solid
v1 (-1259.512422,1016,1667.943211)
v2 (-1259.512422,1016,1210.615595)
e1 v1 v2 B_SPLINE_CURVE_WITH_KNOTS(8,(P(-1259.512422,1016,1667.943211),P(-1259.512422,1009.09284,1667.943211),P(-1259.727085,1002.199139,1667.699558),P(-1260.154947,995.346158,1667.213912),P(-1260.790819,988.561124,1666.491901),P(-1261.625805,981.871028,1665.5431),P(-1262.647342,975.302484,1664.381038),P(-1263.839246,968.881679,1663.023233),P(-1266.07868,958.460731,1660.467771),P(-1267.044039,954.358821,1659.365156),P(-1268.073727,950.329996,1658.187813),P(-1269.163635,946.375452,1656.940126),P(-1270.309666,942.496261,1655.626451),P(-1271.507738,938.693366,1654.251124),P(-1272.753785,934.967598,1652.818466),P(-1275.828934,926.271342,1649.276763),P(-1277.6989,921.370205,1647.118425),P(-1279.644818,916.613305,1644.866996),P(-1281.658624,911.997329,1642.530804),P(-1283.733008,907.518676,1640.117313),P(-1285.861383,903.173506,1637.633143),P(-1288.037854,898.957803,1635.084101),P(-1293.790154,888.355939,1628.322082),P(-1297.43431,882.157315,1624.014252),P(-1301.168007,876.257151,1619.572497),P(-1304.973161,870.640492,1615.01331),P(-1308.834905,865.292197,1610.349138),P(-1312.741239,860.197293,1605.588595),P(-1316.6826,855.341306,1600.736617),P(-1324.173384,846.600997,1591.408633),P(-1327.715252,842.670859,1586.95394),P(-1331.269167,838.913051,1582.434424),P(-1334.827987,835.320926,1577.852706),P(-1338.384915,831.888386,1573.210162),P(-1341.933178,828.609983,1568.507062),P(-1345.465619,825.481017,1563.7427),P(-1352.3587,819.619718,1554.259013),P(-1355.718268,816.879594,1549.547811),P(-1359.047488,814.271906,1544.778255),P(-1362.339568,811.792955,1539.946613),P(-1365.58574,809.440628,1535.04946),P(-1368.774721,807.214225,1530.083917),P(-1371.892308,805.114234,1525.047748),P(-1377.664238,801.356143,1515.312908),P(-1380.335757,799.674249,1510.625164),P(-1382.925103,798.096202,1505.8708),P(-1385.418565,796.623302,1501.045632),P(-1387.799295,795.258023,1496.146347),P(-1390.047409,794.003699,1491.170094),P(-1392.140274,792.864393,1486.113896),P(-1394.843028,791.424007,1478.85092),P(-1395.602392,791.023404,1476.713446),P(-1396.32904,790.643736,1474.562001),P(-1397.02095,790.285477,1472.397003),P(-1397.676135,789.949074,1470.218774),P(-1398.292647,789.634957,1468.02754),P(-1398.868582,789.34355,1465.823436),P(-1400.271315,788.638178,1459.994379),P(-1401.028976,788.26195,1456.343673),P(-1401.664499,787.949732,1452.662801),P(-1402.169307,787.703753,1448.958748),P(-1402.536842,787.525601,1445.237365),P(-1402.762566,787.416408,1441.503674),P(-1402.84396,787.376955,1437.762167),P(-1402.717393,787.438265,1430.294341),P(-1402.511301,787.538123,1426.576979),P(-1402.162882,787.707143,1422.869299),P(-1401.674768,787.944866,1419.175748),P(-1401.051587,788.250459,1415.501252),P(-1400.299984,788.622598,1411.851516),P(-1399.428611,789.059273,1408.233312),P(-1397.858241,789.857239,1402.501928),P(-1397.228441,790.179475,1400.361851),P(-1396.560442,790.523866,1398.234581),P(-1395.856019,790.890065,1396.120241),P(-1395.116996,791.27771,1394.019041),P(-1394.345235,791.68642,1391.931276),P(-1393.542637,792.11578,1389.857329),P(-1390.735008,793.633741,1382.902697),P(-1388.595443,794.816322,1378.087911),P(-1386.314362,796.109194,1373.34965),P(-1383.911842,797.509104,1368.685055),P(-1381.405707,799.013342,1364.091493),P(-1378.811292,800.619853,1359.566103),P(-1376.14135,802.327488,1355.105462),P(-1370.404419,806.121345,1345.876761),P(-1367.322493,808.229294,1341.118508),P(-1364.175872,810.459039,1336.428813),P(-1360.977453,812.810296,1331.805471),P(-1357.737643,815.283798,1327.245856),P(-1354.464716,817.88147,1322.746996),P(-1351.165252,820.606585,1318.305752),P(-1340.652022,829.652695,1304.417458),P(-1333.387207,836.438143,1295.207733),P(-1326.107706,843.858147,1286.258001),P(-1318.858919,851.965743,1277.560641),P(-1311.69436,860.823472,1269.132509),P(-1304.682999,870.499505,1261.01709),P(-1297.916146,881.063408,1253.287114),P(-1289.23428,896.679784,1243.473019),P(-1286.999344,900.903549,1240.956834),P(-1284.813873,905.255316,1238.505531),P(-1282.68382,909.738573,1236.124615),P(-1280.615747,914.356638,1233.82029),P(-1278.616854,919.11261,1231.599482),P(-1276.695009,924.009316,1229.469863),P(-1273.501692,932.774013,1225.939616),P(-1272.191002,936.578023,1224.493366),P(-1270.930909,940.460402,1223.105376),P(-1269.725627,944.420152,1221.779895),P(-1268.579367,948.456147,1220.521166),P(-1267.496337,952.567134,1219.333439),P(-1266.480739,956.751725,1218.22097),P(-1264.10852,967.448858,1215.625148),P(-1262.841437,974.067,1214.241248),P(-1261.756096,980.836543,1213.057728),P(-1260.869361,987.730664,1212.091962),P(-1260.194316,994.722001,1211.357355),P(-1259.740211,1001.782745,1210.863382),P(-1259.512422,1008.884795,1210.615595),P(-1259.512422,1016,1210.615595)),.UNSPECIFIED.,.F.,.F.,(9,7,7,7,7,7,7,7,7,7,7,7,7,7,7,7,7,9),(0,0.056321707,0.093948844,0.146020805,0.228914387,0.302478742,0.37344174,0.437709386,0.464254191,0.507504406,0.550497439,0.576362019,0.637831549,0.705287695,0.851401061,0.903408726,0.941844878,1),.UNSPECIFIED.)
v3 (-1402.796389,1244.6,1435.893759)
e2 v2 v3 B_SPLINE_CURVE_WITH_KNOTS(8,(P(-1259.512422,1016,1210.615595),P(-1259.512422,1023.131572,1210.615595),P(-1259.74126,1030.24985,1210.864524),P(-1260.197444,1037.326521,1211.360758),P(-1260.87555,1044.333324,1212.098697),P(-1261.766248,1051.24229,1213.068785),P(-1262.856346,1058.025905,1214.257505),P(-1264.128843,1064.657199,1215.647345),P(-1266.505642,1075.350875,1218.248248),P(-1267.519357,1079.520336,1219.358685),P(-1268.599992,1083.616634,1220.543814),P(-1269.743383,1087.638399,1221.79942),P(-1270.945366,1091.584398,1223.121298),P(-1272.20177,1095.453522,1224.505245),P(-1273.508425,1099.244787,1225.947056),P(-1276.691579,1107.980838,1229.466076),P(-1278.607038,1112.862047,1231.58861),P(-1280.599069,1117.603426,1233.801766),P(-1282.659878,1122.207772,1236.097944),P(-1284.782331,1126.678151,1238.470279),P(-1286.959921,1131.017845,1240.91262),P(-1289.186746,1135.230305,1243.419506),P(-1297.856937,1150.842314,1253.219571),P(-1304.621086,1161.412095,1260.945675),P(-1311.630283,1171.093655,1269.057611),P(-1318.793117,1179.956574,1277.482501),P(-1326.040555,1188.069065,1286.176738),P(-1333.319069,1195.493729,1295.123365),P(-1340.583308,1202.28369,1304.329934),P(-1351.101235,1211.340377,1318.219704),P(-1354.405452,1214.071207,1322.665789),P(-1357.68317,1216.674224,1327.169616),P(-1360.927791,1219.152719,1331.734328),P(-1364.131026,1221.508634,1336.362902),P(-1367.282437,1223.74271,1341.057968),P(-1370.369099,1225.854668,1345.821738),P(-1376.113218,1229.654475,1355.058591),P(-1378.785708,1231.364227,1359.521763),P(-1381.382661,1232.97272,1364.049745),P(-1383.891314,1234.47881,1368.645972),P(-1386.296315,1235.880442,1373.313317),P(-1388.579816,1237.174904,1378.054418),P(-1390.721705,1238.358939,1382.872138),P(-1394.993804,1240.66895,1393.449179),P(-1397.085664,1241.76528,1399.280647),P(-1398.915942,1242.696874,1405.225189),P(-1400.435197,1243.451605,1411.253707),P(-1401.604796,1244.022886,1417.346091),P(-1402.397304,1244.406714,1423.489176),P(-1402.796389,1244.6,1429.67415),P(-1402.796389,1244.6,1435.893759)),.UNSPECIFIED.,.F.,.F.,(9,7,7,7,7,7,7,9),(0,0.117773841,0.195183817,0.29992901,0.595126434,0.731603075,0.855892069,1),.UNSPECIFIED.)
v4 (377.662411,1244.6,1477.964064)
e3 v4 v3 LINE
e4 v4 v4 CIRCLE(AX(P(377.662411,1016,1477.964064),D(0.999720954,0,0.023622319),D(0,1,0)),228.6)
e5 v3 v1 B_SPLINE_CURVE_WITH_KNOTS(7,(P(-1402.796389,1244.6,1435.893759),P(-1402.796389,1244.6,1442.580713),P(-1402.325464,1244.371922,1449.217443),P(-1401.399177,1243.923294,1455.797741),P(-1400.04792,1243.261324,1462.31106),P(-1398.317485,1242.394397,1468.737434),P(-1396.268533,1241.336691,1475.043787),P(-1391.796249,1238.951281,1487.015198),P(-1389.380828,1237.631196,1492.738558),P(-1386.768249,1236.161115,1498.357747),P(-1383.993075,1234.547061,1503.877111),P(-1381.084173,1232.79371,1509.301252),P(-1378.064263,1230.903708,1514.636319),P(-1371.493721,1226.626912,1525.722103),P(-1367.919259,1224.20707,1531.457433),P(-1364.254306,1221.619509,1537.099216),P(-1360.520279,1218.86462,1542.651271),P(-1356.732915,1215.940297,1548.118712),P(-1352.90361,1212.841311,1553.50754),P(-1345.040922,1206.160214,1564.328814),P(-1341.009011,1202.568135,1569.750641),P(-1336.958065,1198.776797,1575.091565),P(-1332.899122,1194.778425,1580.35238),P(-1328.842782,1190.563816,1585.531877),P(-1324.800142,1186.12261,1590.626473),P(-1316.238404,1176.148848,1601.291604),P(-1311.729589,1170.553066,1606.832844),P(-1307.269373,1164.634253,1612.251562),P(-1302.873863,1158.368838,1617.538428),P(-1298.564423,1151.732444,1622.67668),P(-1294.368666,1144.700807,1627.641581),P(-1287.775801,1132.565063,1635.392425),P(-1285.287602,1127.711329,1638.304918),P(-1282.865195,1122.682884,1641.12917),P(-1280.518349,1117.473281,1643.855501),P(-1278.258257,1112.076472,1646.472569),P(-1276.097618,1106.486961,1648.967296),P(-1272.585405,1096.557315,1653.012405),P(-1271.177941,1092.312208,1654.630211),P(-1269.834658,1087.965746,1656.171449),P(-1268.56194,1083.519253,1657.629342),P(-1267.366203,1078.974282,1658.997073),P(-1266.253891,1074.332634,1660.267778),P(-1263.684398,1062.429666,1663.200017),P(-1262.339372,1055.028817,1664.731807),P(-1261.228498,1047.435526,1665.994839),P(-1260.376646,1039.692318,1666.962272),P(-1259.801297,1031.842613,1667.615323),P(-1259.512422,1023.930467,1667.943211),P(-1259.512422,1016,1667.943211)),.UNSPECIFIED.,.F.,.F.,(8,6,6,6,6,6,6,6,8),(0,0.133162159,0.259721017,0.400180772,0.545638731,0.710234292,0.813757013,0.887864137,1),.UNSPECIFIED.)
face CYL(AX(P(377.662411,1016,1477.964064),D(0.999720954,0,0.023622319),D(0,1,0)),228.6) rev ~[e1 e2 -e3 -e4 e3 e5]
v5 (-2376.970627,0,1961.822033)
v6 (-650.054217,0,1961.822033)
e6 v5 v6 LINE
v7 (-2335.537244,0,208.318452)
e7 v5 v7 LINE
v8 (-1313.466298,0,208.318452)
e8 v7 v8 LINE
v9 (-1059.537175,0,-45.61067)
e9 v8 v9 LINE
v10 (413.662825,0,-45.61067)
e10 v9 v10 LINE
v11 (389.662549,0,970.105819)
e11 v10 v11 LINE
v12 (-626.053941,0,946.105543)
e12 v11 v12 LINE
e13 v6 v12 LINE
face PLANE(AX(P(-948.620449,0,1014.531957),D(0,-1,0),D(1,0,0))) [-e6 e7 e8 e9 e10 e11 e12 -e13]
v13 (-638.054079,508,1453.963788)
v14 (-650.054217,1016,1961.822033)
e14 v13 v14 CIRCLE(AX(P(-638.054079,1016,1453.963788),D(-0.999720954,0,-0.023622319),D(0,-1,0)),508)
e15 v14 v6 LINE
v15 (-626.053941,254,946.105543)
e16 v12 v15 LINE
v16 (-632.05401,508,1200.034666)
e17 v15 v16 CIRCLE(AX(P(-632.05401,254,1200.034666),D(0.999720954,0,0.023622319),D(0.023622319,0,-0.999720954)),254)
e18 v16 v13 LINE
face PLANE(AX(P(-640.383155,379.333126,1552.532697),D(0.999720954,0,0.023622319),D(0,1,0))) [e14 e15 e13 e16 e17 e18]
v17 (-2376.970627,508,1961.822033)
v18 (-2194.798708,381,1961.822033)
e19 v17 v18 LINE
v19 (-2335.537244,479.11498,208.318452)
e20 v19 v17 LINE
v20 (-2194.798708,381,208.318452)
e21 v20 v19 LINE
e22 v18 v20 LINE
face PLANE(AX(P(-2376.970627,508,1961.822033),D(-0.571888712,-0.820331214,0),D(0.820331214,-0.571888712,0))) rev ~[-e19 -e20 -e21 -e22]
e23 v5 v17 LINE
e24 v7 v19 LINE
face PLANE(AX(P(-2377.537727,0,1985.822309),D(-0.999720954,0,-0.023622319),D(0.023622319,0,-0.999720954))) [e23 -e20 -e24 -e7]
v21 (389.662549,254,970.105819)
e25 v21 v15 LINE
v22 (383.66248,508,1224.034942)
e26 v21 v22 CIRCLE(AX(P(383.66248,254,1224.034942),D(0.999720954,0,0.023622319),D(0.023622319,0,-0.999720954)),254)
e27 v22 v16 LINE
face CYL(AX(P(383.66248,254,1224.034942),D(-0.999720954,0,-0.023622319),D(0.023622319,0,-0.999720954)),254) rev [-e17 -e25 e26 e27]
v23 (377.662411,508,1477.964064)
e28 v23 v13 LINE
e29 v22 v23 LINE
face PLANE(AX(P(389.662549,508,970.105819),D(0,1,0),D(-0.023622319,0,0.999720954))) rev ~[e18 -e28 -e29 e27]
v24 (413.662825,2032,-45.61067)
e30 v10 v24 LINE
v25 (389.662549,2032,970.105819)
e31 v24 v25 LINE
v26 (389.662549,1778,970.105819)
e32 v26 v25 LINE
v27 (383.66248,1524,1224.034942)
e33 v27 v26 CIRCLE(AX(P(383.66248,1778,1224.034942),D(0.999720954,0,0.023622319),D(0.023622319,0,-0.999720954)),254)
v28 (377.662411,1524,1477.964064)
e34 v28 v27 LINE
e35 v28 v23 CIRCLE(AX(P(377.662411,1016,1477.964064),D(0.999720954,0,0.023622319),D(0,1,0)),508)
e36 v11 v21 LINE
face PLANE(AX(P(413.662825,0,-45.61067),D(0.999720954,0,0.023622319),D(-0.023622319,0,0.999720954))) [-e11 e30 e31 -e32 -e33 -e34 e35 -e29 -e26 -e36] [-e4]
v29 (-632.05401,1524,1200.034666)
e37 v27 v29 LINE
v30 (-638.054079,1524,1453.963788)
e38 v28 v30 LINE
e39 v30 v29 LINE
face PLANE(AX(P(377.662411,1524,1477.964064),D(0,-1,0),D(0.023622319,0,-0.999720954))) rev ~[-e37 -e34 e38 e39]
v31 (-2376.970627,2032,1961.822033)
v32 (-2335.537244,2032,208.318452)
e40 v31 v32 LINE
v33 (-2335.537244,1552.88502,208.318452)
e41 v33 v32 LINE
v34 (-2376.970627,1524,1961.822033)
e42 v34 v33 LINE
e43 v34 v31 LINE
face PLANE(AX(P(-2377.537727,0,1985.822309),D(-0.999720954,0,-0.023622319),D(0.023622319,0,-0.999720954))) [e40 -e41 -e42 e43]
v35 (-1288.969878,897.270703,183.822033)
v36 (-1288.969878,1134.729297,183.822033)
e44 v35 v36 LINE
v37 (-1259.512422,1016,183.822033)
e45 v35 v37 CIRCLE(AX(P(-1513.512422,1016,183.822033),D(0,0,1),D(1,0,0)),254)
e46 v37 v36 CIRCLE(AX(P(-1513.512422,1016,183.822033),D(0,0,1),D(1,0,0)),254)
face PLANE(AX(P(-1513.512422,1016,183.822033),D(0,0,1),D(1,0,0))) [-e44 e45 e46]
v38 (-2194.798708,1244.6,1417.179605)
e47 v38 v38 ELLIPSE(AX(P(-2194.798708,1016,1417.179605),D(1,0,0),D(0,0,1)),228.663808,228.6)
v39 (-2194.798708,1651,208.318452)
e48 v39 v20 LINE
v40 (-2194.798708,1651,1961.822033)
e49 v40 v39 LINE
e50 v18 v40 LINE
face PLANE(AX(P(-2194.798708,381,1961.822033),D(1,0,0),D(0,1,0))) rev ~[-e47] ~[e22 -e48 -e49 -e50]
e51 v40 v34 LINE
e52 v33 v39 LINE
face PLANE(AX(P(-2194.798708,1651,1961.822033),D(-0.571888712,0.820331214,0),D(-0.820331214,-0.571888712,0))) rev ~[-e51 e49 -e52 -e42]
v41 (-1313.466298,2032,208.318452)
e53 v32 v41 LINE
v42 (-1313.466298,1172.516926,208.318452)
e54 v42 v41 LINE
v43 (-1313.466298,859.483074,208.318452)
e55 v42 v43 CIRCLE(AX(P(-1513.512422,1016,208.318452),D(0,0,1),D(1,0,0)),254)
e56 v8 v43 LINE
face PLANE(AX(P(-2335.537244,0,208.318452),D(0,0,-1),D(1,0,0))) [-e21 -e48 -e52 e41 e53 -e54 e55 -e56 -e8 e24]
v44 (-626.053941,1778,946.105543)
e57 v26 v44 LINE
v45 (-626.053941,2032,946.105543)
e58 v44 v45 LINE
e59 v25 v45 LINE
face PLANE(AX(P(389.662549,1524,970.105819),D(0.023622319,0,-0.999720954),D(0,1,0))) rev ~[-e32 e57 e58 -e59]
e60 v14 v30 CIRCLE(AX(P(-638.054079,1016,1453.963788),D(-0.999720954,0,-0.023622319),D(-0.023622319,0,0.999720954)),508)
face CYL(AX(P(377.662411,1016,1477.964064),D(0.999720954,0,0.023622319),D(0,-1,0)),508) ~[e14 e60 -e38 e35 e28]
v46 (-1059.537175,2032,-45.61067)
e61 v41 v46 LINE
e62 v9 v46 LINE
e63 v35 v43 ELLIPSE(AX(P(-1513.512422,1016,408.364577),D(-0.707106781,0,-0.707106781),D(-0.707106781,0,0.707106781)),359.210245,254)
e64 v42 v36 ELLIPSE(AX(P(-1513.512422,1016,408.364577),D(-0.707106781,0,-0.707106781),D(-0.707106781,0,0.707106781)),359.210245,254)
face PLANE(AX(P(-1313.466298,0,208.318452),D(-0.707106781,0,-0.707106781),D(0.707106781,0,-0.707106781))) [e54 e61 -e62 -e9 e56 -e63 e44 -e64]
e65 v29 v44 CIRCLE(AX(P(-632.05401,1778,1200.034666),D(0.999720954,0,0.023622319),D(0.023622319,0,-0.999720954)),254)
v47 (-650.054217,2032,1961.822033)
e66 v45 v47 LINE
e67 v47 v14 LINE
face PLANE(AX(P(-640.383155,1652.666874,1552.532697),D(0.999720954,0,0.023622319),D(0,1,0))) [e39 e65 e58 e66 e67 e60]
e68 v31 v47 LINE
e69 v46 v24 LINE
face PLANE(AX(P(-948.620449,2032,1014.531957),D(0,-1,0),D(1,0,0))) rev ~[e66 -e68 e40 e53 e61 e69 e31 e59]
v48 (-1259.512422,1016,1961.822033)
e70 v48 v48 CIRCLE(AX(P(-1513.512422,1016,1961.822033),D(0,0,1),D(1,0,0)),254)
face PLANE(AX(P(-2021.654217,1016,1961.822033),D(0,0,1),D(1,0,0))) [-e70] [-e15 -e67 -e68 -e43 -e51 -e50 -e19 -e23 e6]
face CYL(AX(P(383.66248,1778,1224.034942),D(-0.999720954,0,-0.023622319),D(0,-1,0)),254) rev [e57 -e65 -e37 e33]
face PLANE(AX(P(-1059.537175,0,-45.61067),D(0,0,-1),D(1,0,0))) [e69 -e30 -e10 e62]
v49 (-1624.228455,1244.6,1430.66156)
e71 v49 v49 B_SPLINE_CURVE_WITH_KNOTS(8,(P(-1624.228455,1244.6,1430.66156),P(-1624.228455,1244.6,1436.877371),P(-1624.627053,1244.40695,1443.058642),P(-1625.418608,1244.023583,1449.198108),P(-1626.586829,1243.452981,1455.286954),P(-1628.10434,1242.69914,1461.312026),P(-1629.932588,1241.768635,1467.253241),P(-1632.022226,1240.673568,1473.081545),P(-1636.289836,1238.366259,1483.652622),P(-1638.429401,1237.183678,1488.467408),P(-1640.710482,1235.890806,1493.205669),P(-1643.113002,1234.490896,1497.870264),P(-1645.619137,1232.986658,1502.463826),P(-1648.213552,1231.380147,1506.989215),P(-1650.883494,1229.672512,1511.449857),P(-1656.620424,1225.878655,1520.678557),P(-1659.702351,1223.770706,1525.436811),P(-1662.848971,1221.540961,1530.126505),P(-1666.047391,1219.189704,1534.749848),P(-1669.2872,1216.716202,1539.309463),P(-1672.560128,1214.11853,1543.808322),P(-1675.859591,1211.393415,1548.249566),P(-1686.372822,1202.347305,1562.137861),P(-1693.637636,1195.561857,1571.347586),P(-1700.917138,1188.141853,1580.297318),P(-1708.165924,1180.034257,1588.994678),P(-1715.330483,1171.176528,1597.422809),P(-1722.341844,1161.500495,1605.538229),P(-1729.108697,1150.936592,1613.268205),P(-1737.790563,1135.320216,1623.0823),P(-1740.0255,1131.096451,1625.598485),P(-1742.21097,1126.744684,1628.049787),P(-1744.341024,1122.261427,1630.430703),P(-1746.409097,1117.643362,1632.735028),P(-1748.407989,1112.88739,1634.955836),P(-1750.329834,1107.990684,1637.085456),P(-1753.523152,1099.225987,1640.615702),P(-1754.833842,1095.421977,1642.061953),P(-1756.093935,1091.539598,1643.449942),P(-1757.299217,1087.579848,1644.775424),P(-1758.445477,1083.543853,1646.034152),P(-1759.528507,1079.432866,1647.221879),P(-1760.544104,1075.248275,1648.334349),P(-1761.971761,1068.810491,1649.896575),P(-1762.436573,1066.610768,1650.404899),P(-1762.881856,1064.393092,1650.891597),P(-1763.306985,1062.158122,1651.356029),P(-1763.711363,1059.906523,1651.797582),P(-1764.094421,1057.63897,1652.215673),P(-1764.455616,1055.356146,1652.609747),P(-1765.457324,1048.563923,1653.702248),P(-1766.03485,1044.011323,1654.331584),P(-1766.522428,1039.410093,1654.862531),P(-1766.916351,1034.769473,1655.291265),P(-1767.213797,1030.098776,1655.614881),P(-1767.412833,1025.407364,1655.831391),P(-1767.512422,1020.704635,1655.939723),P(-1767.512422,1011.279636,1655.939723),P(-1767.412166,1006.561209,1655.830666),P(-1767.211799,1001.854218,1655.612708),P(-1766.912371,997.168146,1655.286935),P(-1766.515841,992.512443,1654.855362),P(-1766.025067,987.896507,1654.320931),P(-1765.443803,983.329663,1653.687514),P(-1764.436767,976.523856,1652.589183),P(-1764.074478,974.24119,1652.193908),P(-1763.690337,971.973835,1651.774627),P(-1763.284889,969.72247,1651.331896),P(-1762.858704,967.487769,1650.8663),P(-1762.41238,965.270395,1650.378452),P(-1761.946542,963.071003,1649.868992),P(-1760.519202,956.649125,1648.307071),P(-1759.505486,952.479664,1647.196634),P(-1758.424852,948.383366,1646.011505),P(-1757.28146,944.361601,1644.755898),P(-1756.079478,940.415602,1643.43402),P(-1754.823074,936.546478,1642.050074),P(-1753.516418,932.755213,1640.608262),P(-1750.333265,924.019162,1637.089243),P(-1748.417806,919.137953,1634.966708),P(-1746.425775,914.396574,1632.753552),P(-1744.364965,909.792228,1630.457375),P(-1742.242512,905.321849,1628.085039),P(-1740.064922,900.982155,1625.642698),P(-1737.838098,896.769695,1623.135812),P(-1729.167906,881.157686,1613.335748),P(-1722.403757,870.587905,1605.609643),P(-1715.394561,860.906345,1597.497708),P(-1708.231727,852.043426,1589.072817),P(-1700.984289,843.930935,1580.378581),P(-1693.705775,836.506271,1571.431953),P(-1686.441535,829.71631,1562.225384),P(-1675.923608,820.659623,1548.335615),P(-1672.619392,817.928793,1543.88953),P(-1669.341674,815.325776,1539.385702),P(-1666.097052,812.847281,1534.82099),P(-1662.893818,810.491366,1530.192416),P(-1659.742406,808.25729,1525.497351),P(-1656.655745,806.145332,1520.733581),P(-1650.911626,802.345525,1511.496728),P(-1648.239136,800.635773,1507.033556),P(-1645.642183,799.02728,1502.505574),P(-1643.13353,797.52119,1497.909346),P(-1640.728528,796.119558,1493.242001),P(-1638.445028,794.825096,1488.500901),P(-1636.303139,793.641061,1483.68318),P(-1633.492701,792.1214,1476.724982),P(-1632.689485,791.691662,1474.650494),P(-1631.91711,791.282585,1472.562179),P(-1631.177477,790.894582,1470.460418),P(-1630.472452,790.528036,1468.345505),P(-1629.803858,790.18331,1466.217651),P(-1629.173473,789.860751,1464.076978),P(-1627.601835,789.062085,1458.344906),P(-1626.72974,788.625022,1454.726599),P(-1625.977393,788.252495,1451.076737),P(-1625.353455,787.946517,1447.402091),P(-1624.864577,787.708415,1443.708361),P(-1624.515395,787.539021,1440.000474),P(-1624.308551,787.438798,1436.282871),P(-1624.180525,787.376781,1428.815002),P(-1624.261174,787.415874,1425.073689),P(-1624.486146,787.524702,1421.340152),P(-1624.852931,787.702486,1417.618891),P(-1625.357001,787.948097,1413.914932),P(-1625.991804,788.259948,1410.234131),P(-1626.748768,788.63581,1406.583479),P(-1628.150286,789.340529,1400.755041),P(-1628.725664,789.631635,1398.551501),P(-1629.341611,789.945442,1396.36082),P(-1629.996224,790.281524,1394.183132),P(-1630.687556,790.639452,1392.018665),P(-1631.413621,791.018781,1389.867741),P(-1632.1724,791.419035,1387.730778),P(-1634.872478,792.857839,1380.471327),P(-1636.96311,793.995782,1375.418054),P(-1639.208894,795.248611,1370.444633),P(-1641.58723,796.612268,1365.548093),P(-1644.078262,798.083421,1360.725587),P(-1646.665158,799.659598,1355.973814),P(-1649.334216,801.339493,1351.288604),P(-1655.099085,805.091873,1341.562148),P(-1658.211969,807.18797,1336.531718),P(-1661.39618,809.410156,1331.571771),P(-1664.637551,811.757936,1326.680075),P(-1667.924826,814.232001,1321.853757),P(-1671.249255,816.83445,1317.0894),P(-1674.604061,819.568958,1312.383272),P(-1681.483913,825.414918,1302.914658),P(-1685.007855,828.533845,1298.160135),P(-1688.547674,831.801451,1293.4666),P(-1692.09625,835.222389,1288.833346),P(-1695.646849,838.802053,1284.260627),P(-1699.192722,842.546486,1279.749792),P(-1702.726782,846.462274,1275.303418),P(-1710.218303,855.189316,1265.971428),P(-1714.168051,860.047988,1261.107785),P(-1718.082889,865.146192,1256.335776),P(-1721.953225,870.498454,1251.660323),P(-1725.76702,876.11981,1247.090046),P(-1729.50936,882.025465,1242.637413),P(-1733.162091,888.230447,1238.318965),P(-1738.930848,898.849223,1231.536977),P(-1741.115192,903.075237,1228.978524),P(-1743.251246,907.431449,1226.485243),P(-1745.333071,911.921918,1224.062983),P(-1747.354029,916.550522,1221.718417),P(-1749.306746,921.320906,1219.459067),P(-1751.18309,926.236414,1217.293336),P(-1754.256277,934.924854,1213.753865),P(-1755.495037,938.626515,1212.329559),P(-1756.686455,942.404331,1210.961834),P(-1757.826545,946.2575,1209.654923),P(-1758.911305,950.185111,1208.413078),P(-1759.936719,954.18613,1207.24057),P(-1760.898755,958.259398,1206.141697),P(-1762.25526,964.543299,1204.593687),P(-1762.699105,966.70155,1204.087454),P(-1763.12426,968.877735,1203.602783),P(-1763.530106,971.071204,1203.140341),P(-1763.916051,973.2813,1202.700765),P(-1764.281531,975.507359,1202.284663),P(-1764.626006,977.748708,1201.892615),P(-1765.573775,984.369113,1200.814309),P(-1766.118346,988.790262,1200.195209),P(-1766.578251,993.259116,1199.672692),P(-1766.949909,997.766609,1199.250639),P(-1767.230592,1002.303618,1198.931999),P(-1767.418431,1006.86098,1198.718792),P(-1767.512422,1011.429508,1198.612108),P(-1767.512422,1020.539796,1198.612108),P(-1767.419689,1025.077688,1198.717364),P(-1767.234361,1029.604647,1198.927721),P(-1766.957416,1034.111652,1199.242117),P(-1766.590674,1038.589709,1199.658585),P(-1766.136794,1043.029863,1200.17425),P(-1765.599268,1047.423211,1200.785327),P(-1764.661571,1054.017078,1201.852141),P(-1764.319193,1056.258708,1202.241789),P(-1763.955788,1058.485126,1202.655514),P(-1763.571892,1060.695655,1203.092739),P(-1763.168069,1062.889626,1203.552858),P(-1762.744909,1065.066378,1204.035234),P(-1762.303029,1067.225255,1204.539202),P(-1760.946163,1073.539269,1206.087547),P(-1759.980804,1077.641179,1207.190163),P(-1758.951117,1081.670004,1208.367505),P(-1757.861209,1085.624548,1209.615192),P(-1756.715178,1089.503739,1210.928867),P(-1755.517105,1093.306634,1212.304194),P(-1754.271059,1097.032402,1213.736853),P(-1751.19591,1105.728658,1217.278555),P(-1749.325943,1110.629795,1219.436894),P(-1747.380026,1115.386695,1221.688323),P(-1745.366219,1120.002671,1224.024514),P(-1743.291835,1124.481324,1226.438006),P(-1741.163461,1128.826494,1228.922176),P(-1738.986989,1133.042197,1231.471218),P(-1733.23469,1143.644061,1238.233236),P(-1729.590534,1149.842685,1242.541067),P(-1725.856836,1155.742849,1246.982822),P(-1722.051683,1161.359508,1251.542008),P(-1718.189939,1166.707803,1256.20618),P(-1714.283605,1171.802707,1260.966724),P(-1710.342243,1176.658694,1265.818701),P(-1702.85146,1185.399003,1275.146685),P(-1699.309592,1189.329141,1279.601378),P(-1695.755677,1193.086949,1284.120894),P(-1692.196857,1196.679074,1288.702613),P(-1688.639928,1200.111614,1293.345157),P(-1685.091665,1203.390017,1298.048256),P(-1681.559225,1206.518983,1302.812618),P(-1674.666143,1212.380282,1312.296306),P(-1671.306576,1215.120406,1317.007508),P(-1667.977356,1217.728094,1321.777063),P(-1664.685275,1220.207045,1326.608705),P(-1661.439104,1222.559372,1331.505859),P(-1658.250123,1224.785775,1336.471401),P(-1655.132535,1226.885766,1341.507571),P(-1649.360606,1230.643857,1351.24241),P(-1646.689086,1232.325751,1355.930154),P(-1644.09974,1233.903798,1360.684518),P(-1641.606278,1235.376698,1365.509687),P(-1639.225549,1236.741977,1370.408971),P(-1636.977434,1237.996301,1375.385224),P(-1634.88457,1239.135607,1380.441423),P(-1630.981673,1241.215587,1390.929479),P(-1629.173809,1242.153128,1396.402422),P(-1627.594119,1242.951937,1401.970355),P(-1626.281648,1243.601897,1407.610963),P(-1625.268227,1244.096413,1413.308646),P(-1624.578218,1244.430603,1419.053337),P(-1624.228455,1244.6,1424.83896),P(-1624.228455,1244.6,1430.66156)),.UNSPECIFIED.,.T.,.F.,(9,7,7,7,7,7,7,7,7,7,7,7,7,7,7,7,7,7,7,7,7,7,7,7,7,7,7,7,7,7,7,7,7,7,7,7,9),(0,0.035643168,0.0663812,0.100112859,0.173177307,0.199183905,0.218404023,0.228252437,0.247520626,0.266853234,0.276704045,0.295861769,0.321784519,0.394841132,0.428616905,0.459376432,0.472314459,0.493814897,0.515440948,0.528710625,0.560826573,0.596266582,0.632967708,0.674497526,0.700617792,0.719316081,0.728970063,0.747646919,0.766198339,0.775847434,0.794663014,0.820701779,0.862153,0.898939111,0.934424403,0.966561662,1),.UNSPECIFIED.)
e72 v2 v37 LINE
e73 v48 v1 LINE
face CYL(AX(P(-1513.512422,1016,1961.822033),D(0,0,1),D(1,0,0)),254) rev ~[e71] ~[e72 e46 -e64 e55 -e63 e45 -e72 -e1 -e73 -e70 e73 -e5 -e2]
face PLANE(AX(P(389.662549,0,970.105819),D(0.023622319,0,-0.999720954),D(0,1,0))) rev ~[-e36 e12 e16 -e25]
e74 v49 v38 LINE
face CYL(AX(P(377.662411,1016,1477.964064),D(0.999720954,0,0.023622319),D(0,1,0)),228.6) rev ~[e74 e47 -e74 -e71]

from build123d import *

# Parameters (mm, degrees)
F1_DEPTH   = 2032
F1_FACE1_W = 2743.2
F1_FACE1_H = 2032
F3_DEPTH   = 1016
F4_R       = 254
F5_R       = 254
F6_R       = 228.6
F7_DEPTH   = 2743.2
F8_R       = 254
F9_DEPTH   = 1778
F10_DEPTH  = 1778
F12_DEPTH  = 1778


with BuildPart() as f1:
    # F0 (on Front) → F1 (new body)
    with BuildSketch(Plane.XZ):
        Polygon((-1313.466297527, 208.3184523385), (-1059.5371751883, -45.6106700003), (413.6628248117, -45.6106700003), (365.662272644, 1985.8223087099), (-2377.537727356, 1985.8223087099), (-2335.5372442092, 208.3184523385), align=None)
    extrude(amount=-F1_DEPTH)

    # F2 (on face) + F1_face1 (on face) → F3 (cut)
    with BuildSketch(Plane(origin=(412.35486604, 0, 9.7434970616), x_dir=(0, 1, 0), z_dir=(0.9997209541, 0, 0.023622319))):
        with BuildLine():
            ThreePointArc((508, 1468.6303822727), (656.7897551572, 1827.8406271154), (1016, 1976.6303822727))
            Line((1016, 1976.6303822727), (0, 1976.6303822727))
            Line((0, 1976.6303822727), (0, 960.6303822727))
            Line((0, 960.6303822727), (508, 960.6303822727))
            Line((508, 960.6303822727), (508, 1468.6303822727))
        make_face()
        with BuildLine():
            ThreePointArc((1016, 1976.6303822727), (1375.2102448428, 1827.8406271154), (1524, 1468.6303822727))
            Line((1524, 1468.6303822727), (1524, 960.6303822727))
            Line((1524, 960.6303822727), (2032, 960.6303822727))
            Line((2032, 960.6303822727), (2032, 1976.6303822727))
            Line((2032, 1976.6303822727), (1016, 1976.6303822727))
        make_face()
    with BuildSketch(Plane(origin=(-1005.937727356, 1016, 1985.8223087099), x_dir=(1, 0, 0), z_dir=(0, 0, 1))):
        Rectangle(F1_FACE1_W, F1_FACE1_H)
    extrude(amount=-F3_DEPTH, dir=(0.9997209541, 0, 0.023622319), mode=Mode.SUBTRACT)

    # F4
    f4_edges = [f1.edges().sort_by_distance(p)[0] for p in [
        (-118.195696, 508, 958.105681),
    ]]
    fillet(f4_edges, radius=F4_R)

    # F5
    f5_edges = [f1.edges().sort_by_distance(p)[0] for p in [
        (-118.195696, 1524, 958.105681),
    ]]
    fillet(f5_edges, radius=F5_R)

    # F6 (on face) → F7 (cut)
    with BuildSketch(Plane(origin=(412.35486604, 0, 9.7434970616), x_dir=(0, 1, 0), z_dir=(0.9997209541, 0, 0.023622319))):
        with Locations((1016, 1468.6303822727)):
            Circle(F6_R)
    extrude(amount=-F7_DEPTH, mode=Mode.SUBTRACT)

    # F8 (on face) → F9 (cut)
    with BuildSketch(Plane.XY.offset(1961.8220326261)):
        with Locations((-1513.5124218214, 1016)):
            Circle(F8_R)
    extrude(amount=-F9_DEPTH, mode=Mode.SUBTRACT)

    # F8 (on face) → F10 (cut)
    with BuildSketch(Plane.XY.offset(1961.8220326261)):
        with Locations((-1513.5124218214, 1016)):
            Circle(F8_R)
    extrude(amount=-F10_DEPTH, mode=Mode.SUBTRACT)

    # F11 (on face) → F12 (cut)
    with BuildSketch(Plane.XY.offset(1961.8220326261)):
        Polygon((-2194.798707962, 381), (-2194.798707962, 1016), (-2194.798707962, 1651), (-2376.9706269316, 1524), (-2376.9706269316, 1016), (-2376.9706269316, 508), align=None)
    extrude(amount=-F12_DEPTH, mode=Mode.SUBTRACT)


solid = f1.part
